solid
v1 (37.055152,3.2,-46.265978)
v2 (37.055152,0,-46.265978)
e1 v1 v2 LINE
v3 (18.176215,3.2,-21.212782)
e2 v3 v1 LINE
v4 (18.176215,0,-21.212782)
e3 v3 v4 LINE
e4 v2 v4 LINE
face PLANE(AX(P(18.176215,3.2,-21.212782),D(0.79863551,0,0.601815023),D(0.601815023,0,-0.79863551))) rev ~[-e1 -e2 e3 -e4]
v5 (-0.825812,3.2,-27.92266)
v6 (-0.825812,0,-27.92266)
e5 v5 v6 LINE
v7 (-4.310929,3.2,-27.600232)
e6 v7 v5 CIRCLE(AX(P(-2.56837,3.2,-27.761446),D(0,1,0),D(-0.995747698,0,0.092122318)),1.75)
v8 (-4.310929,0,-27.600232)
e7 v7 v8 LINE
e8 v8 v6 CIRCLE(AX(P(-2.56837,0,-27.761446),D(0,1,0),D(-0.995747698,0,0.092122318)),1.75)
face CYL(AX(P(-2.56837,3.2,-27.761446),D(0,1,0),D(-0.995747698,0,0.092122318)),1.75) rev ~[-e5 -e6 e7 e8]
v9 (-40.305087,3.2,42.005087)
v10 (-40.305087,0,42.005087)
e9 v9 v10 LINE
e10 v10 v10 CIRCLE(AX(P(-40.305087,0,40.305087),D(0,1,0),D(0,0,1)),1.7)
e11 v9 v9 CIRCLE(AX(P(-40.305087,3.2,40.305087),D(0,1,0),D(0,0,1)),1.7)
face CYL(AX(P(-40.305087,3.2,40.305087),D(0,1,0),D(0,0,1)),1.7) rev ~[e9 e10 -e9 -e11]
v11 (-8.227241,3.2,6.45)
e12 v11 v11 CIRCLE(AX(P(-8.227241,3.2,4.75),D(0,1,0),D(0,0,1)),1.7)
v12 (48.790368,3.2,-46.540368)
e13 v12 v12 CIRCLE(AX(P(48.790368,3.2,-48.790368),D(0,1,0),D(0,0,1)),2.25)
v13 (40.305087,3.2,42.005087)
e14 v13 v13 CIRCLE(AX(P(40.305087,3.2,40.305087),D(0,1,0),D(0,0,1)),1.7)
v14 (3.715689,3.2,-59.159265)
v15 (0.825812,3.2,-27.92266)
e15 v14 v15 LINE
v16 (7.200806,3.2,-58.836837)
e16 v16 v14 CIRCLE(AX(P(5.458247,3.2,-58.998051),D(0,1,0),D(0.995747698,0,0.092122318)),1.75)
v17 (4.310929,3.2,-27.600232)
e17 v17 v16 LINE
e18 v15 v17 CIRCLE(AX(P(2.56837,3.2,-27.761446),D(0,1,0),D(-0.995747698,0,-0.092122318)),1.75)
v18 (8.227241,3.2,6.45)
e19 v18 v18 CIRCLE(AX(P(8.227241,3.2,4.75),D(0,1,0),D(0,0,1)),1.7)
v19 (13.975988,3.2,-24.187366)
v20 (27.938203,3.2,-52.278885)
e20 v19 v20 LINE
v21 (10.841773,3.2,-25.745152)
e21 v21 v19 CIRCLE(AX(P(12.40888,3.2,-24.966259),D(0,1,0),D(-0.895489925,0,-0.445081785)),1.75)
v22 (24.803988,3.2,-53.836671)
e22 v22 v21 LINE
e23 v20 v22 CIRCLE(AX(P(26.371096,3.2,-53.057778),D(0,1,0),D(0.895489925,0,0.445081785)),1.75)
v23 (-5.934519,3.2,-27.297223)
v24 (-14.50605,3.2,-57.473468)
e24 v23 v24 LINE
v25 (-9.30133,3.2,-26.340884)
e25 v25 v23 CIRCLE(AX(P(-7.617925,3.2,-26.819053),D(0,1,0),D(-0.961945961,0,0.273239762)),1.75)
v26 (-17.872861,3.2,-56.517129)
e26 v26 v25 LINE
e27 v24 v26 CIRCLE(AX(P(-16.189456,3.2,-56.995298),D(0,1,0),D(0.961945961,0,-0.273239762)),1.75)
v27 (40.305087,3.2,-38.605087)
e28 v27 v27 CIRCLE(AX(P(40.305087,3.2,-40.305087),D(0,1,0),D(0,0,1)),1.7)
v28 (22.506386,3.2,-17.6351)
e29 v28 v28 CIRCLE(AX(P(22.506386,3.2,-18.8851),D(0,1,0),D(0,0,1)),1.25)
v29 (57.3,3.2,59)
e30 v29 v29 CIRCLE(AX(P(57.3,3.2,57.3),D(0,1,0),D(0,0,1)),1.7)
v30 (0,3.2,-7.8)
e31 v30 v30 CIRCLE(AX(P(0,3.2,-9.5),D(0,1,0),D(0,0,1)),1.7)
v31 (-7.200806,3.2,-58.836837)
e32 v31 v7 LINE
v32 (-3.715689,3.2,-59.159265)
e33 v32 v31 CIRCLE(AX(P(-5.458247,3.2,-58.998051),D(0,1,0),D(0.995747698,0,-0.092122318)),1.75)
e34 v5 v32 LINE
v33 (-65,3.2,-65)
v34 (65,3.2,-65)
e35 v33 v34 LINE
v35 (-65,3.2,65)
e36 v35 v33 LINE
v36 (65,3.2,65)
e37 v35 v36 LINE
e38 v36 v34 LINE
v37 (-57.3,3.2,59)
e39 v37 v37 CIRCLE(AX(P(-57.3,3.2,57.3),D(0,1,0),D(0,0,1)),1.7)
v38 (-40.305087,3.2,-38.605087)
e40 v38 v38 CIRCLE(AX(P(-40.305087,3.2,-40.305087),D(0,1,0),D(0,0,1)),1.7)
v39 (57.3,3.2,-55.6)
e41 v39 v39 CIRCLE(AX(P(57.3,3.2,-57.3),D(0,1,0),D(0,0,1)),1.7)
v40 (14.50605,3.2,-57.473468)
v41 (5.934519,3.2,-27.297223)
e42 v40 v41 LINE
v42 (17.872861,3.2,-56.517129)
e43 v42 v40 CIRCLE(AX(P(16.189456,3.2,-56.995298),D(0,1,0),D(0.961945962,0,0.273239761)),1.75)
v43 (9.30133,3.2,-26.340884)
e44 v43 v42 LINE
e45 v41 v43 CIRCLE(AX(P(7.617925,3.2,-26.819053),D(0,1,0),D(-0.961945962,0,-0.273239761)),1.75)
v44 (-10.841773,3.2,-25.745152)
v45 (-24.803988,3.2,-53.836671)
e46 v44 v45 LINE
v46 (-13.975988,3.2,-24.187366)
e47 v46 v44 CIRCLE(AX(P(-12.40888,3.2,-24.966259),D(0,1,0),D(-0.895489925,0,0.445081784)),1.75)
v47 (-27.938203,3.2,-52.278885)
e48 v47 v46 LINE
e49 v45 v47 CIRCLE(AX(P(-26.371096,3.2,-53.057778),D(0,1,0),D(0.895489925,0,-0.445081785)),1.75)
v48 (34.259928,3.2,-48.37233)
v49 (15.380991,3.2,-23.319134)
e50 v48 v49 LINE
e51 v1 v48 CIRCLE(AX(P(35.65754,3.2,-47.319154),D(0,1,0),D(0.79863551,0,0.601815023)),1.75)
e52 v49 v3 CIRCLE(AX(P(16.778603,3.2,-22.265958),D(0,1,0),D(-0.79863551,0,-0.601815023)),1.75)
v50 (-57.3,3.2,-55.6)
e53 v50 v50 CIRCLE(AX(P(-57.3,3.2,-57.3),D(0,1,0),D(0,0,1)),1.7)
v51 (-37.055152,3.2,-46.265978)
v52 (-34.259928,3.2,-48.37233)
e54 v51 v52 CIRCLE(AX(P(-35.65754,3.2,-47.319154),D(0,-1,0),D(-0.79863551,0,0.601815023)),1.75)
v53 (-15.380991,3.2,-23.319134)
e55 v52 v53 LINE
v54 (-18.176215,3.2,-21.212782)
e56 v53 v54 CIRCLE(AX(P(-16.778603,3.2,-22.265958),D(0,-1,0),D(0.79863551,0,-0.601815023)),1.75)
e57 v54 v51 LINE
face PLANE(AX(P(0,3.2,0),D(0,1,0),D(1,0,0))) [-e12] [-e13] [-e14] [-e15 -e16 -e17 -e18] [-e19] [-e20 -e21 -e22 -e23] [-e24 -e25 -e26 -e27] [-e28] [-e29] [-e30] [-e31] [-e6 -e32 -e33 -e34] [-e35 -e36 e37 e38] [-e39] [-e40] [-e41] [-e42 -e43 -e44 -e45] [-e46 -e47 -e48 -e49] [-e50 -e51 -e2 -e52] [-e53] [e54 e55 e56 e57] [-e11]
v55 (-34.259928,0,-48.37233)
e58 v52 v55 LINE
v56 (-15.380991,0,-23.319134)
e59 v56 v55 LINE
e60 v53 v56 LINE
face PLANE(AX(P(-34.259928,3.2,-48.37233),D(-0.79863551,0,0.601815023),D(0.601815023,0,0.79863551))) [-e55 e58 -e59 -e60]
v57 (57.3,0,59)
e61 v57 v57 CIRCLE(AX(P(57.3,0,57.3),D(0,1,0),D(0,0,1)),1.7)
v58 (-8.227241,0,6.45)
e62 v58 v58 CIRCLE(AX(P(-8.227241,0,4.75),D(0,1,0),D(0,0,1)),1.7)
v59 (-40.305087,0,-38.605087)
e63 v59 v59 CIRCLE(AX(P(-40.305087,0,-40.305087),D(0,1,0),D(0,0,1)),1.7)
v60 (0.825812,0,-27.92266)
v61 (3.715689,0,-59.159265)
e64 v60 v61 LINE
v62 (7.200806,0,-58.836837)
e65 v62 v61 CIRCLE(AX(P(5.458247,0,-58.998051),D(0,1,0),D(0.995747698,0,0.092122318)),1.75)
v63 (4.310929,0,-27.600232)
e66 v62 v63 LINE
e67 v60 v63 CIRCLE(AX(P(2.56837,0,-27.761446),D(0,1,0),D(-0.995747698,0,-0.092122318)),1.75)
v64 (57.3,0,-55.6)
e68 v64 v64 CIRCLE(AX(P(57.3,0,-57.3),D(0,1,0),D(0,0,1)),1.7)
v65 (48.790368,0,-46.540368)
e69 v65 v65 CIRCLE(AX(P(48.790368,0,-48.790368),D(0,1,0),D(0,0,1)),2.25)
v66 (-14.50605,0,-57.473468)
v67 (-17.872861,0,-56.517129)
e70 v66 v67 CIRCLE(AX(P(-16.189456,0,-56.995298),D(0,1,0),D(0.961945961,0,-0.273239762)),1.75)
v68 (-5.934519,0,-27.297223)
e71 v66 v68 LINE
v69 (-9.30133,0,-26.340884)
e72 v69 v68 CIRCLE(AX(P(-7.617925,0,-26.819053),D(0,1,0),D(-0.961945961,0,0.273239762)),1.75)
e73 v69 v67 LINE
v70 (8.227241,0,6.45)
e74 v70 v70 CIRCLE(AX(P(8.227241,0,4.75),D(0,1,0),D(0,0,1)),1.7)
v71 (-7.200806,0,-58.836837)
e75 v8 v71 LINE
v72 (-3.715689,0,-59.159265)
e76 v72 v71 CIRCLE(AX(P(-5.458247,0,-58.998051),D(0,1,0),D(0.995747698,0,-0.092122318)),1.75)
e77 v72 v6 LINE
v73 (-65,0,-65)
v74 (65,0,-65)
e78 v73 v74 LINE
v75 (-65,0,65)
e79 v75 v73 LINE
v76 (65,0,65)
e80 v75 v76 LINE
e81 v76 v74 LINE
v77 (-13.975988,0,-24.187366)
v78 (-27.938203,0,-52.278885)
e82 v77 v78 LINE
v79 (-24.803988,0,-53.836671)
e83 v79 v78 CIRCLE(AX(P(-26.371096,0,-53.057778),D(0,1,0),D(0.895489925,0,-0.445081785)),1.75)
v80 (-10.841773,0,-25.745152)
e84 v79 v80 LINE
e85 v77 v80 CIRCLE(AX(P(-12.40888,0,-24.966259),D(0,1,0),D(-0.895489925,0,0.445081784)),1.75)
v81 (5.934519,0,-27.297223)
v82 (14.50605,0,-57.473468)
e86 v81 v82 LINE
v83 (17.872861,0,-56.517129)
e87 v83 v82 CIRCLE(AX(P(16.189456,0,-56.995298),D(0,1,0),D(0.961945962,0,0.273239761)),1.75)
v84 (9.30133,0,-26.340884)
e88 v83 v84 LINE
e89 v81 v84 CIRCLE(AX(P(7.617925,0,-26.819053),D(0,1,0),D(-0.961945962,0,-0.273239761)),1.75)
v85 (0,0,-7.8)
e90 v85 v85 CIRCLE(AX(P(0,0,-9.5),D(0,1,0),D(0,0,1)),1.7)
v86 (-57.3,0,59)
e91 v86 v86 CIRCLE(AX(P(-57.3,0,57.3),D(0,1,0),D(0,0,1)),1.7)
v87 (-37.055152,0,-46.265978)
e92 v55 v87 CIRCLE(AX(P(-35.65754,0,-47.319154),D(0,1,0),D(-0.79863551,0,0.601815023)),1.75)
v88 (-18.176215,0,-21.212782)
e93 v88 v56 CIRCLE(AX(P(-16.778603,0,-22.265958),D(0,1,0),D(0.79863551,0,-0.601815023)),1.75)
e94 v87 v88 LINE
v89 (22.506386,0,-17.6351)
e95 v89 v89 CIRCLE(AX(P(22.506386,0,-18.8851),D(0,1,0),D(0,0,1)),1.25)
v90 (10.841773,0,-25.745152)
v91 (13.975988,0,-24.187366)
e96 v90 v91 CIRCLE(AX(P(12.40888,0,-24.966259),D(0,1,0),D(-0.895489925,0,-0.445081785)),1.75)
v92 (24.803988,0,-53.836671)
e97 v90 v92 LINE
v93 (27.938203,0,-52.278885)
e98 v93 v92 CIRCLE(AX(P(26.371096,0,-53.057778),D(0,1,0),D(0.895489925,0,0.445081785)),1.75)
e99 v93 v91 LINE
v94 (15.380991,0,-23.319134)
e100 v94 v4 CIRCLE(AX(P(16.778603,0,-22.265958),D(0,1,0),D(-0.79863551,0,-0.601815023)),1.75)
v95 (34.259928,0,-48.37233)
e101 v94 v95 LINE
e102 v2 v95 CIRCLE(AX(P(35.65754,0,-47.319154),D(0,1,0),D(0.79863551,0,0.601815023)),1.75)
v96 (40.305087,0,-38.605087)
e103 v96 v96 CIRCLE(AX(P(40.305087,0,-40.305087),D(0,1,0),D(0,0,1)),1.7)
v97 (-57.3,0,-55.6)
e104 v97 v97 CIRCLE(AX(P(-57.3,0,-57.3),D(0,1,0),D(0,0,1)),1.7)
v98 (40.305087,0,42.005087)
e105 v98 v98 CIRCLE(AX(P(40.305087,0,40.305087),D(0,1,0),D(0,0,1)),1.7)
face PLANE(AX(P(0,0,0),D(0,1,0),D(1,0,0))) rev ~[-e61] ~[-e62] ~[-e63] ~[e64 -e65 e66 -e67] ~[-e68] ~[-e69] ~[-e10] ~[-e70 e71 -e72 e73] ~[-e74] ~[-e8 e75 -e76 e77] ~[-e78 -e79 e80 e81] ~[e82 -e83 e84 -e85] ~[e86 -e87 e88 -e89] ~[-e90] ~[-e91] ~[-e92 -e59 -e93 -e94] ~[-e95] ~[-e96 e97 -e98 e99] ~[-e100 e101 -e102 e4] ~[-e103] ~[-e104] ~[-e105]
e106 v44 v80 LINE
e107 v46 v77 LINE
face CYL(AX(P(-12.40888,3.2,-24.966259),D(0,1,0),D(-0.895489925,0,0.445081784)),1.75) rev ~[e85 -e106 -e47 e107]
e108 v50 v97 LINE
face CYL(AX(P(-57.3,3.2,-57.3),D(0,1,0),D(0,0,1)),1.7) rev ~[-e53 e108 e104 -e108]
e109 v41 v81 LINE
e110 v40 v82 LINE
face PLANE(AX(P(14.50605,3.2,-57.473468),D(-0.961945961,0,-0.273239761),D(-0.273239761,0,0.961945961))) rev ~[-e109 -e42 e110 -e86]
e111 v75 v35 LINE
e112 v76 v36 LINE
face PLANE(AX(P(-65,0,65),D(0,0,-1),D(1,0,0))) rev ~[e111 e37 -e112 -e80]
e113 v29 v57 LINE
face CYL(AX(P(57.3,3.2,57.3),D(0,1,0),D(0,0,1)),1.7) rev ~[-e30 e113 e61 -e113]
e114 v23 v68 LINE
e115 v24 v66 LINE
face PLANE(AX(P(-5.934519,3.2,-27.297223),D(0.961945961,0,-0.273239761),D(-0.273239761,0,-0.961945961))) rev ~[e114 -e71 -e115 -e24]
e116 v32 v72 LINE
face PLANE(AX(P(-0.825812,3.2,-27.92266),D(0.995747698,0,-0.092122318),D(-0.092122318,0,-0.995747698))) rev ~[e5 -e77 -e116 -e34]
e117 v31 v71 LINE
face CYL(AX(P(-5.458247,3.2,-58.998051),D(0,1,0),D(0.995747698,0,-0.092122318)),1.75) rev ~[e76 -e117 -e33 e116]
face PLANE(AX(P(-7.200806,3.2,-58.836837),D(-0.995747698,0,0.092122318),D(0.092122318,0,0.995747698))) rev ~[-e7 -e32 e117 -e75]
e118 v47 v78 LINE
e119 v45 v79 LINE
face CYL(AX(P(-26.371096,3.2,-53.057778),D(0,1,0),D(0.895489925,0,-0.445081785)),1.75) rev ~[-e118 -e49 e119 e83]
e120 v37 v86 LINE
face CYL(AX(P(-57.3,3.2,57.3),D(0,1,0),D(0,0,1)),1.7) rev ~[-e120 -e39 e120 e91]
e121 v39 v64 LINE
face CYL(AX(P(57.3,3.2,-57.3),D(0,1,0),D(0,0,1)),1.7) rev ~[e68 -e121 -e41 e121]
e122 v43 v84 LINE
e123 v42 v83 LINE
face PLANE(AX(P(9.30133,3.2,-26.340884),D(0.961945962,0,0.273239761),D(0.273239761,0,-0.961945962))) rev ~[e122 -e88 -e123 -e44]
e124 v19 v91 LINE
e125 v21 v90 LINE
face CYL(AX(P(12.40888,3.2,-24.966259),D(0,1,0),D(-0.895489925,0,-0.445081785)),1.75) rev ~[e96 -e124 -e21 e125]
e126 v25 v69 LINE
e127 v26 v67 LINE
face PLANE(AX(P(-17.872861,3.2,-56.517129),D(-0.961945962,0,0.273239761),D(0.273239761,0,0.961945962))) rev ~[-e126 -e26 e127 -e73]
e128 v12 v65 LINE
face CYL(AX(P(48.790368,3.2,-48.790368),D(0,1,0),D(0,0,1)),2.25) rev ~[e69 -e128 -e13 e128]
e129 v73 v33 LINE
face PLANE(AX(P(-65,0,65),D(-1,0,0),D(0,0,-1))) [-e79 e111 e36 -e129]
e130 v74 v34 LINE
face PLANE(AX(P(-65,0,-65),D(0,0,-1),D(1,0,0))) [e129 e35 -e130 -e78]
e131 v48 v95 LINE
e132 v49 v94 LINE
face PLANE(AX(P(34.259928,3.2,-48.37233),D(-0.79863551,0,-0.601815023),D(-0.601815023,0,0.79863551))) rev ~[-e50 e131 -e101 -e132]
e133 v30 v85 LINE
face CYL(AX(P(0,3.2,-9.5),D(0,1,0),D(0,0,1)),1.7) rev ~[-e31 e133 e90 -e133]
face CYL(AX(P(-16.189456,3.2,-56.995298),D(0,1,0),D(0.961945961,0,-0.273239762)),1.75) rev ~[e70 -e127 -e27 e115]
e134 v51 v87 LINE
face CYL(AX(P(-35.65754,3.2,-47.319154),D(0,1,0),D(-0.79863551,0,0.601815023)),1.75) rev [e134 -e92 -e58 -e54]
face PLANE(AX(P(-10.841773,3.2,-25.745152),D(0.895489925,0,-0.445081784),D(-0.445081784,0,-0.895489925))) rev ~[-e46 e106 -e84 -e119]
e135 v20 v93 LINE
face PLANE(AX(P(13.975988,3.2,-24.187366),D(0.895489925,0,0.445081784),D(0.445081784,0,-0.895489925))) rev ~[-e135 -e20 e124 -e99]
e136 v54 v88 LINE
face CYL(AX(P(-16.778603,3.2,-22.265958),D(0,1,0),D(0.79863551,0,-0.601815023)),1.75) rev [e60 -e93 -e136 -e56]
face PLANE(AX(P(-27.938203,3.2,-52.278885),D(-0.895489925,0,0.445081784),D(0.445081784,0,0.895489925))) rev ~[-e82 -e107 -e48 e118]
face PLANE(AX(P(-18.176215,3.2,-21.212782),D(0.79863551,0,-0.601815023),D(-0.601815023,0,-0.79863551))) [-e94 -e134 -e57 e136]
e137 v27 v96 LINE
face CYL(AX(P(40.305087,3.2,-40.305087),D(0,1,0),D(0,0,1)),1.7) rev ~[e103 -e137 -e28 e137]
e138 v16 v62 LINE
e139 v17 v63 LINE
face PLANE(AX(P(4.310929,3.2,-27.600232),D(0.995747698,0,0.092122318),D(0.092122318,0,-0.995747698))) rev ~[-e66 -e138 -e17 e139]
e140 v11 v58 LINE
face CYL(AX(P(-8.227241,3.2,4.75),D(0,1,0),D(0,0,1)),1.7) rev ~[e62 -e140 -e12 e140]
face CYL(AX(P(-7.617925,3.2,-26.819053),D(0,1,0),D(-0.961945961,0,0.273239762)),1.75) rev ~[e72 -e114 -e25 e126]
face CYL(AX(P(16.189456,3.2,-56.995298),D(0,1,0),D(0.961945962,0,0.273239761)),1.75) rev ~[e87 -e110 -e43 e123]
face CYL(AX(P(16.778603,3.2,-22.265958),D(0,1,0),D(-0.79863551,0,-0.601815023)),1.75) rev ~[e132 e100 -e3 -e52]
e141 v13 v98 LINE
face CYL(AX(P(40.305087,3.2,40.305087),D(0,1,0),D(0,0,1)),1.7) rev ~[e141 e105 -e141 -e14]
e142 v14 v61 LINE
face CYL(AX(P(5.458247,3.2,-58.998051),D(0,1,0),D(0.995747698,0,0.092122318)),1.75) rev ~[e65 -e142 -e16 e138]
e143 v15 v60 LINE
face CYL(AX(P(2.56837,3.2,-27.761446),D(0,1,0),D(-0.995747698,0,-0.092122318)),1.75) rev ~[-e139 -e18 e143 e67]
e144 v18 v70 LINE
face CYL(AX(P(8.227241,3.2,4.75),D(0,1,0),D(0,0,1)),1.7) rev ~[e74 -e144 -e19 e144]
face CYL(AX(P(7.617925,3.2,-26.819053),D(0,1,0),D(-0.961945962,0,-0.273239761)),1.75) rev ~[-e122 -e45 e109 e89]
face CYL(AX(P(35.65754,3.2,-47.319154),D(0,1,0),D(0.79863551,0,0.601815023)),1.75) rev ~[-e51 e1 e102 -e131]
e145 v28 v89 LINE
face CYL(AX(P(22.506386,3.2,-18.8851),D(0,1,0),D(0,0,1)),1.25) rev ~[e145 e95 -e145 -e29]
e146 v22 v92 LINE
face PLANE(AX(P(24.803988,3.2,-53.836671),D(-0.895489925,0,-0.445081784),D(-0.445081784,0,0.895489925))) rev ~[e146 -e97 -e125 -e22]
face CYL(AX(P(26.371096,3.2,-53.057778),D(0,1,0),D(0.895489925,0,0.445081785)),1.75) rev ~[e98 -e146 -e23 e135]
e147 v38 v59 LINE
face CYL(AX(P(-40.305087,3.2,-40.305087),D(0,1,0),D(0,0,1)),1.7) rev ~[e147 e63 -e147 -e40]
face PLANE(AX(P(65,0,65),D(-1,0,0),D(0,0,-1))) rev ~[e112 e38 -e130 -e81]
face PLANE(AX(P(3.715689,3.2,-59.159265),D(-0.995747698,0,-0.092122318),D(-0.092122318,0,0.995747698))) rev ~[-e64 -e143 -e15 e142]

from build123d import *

# Parameters (mm, degrees)
SKETCH2_W                 = 130
SKETCH2_H                 = 130
BOSS_EXTRUDE1_DEPTH       = 3.2
CUT_EXTRUDE1_REACH        = 93.98
SKETCH4_R                 = 1.7
CUT_EXTRUDE2_REACH        = 93.98
SKETCH6_R                 = 1.7
CUT_EXTRUDE3_REACH        = 93.98
SKETCH8_R                 = 1.7
PRIMARY_WIRE_HOLE_REACH   = 93.98
SKETCH9_R                 = 2.25
SECONDARY_WIRE_HOLE_REACH = 93.98
SKETCH10_R                = 1.25
CUT_EXTRUDE6_REACH        = 93.98


with BuildPart() as part:
    # Sketch2 → Boss-Extrude1 (new body)
    with BuildSketch(Plane(origin=(0, 0, 0), x_dir=(1, 0, 0), z_dir=(0, 1, 0))):
        Rectangle(SKETCH2_W, SKETCH2_H)
    extrude(amount=BOSS_EXTRUDE1_DEPTH)

    # Sketch4 → Cut-Extrude1 (cut, up to next)
    with BuildSketch(Plane(origin=(0, 3.2, 0), x_dir=(1, 0, 0), z_dir=(0, 1, 0)), mode=Mode.PRIVATE) as cut_extrude1_sk1:
        with Locations(Location((-57.3, 57.3, 0), (0, 0, 270))):
            Circle(SKETCH4_R)
    cut_extrude1_tool1 = extrude(cut_extrude1_sk1.sketch, amount=-CUT_EXTRUDE1_REACH, mode=Mode.PRIVATE) & part.part
    # Sketch4 → Cut-Extrude1 (cut, up to next)
    with BuildSketch(Plane(origin=(0, 3.2, 0), x_dir=(1, 0, 0), z_dir=(0, 1, 0)), mode=Mode.PRIVATE) as cut_extrude1_sk2:
        with Locations(Location((57.3, 57.3, 0), (0, 0, 270))):
            Circle(SKETCH4_R)
    cut_extrude1_tool2 = extrude(cut_extrude1_sk2.sketch, amount=-CUT_EXTRUDE1_REACH, mode=Mode.PRIVATE) & part.part
    # Sketch4 → Cut-Extrude1 (cut, up to next)
    with BuildSketch(Plane(origin=(0, 3.2, 0), x_dir=(1, 0, 0), z_dir=(0, 1, 0)), mode=Mode.PRIVATE) as cut_extrude1_sk3:
        with Locations(Location((57.3, -57.3, 0), (0, 0, 270))):
            Circle(SKETCH4_R)
    cut_extrude1_tool3 = extrude(cut_extrude1_sk3.sketch, amount=-CUT_EXTRUDE1_REACH, mode=Mode.PRIVATE) & part.part
    # Sketch4 → Cut-Extrude1 (cut, up to next)
    with BuildSketch(Plane(origin=(0, 3.2, 0), x_dir=(1, 0, 0), z_dir=(0, 1, 0)), mode=Mode.PRIVATE) as cut_extrude1_sk4:
        with Locations(Location((-57.3, -57.3, 0), (0, 0, 270))):
            Circle(SKETCH4_R)
    cut_extrude1_tool4 = extrude(cut_extrude1_sk4.sketch, amount=-CUT_EXTRUDE1_REACH, mode=Mode.PRIVATE) & part.part
    add(cut_extrude1_tool1.solids().sort_by_distance((-57.3, 3.2, -57.3))[0], mode=Mode.SUBTRACT)
    add(cut_extrude1_tool2.solids().sort_by_distance((57.3, 3.2, -57.3))[0], mode=Mode.SUBTRACT)
    add(cut_extrude1_tool3.solids().sort_by_distance((57.3, 3.2, 57.3))[0], mode=Mode.SUBTRACT)
    add(cut_extrude1_tool4.solids().sort_by_distance((-57.3, 3.2, 57.3))[0], mode=Mode.SUBTRACT)

    # Sketch6 → Cut-Extrude2 (cut, up to next)
    with BuildSketch(Plane(origin=(0, 3.2, 0), x_dir=(1, 0, 0), z_dir=(0, 1, 0)), mode=Mode.PRIVATE) as cut_extrude2_sk1:
        with Locations(Location((-40.305086528, 40.305086528, 0), (0, 0, 270))):
            Circle(SKETCH6_R)
    cut_extrude2_tool1 = extrude(cut_extrude2_sk1.sketch, amount=-CUT_EXTRUDE2_REACH, mode=Mode.PRIVATE) & part.part
    # Sketch6 → Cut-Extrude2 (cut, up to next)
    with BuildSketch(Plane(origin=(0, 3.2, 0), x_dir=(1, 0, 0), z_dir=(0, 1, 0)), mode=Mode.PRIVATE) as cut_extrude2_sk2:
        with Locations(Location((40.305086528, 40.305086528, 0), (0, 0, 270))):
            Circle(SKETCH6_R)
    cut_extrude2_tool2 = extrude(cut_extrude2_sk2.sketch, amount=-CUT_EXTRUDE2_REACH, mode=Mode.PRIVATE) & part.part
    # Sketch6 → Cut-Extrude2 (cut, up to next)
    with BuildSketch(Plane(origin=(0, 3.2, 0), x_dir=(1, 0, 0), z_dir=(0, 1, 0)), mode=Mode.PRIVATE) as cut_extrude2_sk3:
        with Locations(Location((40.305086528, -40.305086528, 0), (0, 0, 270))):
            Circle(SKETCH6_R)
    cut_extrude2_tool3 = extrude(cut_extrude2_sk3.sketch, amount=-CUT_EXTRUDE2_REACH, mode=Mode.PRIVATE) & part.part
    # Sketch6 → Cut-Extrude2 (cut, up to next)
    with BuildSketch(Plane(origin=(0, 3.2, 0), x_dir=(1, 0, 0), z_dir=(0, 1, 0)), mode=Mode.PRIVATE) as cut_extrude2_sk4:
        with Locations(Location((-40.305086528, -40.305086528, 0), (0, 0, 270))):
            Circle(SKETCH6_R)
    cut_extrude2_tool4 = extrude(cut_extrude2_sk4.sketch, amount=-CUT_EXTRUDE2_REACH, mode=Mode.PRIVATE) & part.part
    add(cut_extrude2_tool1.solids().sort_by_distance((-40.305087, 3.2, -40.305087))[0], mode=Mode.SUBTRACT)
    add(cut_extrude2_tool2.solids().sort_by_distance((40.305087, 3.2, -40.305087))[0], mode=Mode.SUBTRACT)
    add(cut_extrude2_tool3.solids().sort_by_distance((40.305087, 3.2, 40.305087))[0], mode=Mode.SUBTRACT)
    add(cut_extrude2_tool4.solids().sort_by_distance((-40.305087, 3.2, 40.305087))[0], mode=Mode.SUBTRACT)

    # Sketch8 → Cut-Extrude3 (cut, up to next)
    with BuildSketch(Plane(origin=(0, 3.2, 0), x_dir=(1, 0, 0), z_dir=(0, 1, 0)), mode=Mode.PRIVATE) as cut_extrude3_sk1:
        with Locations(Location((0, 9.5, 0), (0, 0, 270))):
            Circle(SKETCH8_R)
    cut_extrude3_tool1 = extrude(cut_extrude3_sk1.sketch, amount=-CUT_EXTRUDE3_REACH, mode=Mode.PRIVATE) & part.part
    # Sketch8 → Cut-Extrude3 (cut, up to next)
    with BuildSketch(Plane(origin=(0, 3.2, 0), x_dir=(1, 0, 0), z_dir=(0, 1, 0)), mode=Mode.PRIVATE) as cut_extrude3_sk2:
        with Locations(Location((8.227241336, -4.75, 0), (0, 0, 270))):
            Circle(SKETCH8_R)
    cut_extrude3_tool2 = extrude(cut_extrude3_sk2.sketch, amount=-CUT_EXTRUDE3_REACH, mode=Mode.PRIVATE) & part.part
    # Sketch8 → Cut-Extrude3 (cut, up to next)
    with BuildSketch(Plane(origin=(0, 3.2, 0), x_dir=(1, 0, 0), z_dir=(0, 1, 0)), mode=Mode.PRIVATE) as cut_extrude3_sk3:
        with Locations(Location((-8.227241336, -4.75, 0), (0, 0, 270))):
            Circle(SKETCH8_R)
    cut_extrude3_tool3 = extrude(cut_extrude3_sk3.sketch, amount=-CUT_EXTRUDE3_REACH, mode=Mode.PRIVATE) & part.part
    add(cut_extrude3_tool1.solids().sort_by_distance((0, 3.2, -9.5))[0], mode=Mode.SUBTRACT)
    add(cut_extrude3_tool2.solids().sort_by_distance((8.227241, 3.2, 4.75))[0], mode=Mode.SUBTRACT)
    add(cut_extrude3_tool3.solids().sort_by_distance((-8.227241, 3.2, 4.75))[0], mode=Mode.SUBTRACT)

    # Sketch9 → Primary wire hole (cut, up to next)
    with BuildSketch(Plane(origin=(0, 3.2, 0), x_dir=(1, 0, 0), z_dir=(0, 1, 0)), mode=Mode.PRIVATE) as primary_wire_hole_sk1:
        with Locations(Location((48.790367902, 48.790367902, 0), (0, 0, 270))):
            Circle(SKETCH9_R)
    primary_wire_hole_tool1 = extrude(primary_wire_hole_sk1.sketch, amount=-PRIMARY_WIRE_HOLE_REACH, mode=Mode.PRIVATE) & part.part
    add(primary_wire_hole_tool1.solids().sort_by_distance((48.790368, 3.2, -48.790368))[0], mode=Mode.SUBTRACT)

    # Sketch10 → Secondary wire hole (cut, up to next)
    with BuildSketch(Plane(origin=(0, 3.2, 0), x_dir=(1, 0, 0), z_dir=(0, 1, 0)), mode=Mode.PRIVATE) as secondary_wire_hole_sk1:
        with Locations(Location((22.506385739, 18.885099973, 0), (0, 0, 270))):
            Circle(SKETCH10_R)
    secondary_wire_hole_tool1 = extrude(secondary_wire_hole_sk1.sketch, amount=-SECONDARY_WIRE_HOLE_REACH, mode=Mode.PRIVATE) & part.part
    add(secondary_wire_hole_tool1.solids().sort_by_distance((22.506386, 3.2, -18.8851))[0], mode=Mode.SUBTRACT)

    # Sketch11 → Cut-Extrude6 (cut, up to next)
    with BuildSketch(Plane(origin=(0, 3.2, 0), x_dir=(1, 0, 0), z_dir=(0, 1, 0)), mode=Mode.PRIVATE) as cut_extrude6_sk1:
        with BuildLine():
            Line((-34.259927979, 48.372330261), (-15.380990703, 23.319134311))
            ThreePointArc((-15.380990703, 23.319134311), (-15.725426555, 20.868345878), (-18.176214988, 21.21278173))
            Line((-18.176214988, 21.21278173), (-37.055152264, 46.26597768))
            ThreePointArc((-37.055152264, 46.26597768), (-36.710716412, 48.716766113), (-34.259927979, 48.372330261))
        make_face()
    cut_extrude6_tool1 = extrude(cut_extrude6_sk1.sketch, amount=-CUT_EXTRUDE6_REACH, mode=Mode.PRIVATE) & part.part
    # Sketch11 → Cut-Extrude6 (cut, up to next)
    with BuildSketch(Plane(origin=(0, 3.2, 0), x_dir=(1, 0, 0), z_dir=(0, 1, 0)), mode=Mode.PRIVATE) as cut_extrude6_sk2:
        with BuildLine():
            Line((-27.938203096, 52.278884913), (-13.975987518, 24.187365977))
            ThreePointArc((-13.975987518, 24.187365977), (-11.629987027, 23.399151731), (-10.841772782, 25.745152222))
            Line((-10.841772782, 25.745152222), (-24.80398836, 53.836671159))
            ThreePointArc((-24.80398836, 53.836671159), (-27.149988851, 54.624885404), (-27.938203096, 52.278884913))
        make_face()
    cut_extrude6_tool2 = extrude(cut_extrude6_sk2.sketch, amount=-CUT_EXTRUDE6_REACH, mode=Mode.PRIVATE) & part.part
    # Sketch11 → Cut-Extrude6 (cut, up to next)
    with BuildSketch(Plane(origin=(0, 3.2, 0), x_dir=(1, 0, 0), z_dir=(0, 1, 0)), mode=Mode.PRIVATE) as cut_extrude6_sk3:
        with BuildLine():
            Line((-17.87286129, 56.517128637), (-9.301329978, 26.340883824))
            ThreePointArc((-9.301329978, 26.340883824), (-7.139754963, 25.135647974), (-5.934519112, 27.297222989))
            Line((-5.934519112, 27.297222989), (-14.506050425, 57.473467801))
            ThreePointArc((-14.506050425, 57.473467801), (-16.667625439, 58.678703651), (-17.87286129, 56.517128637))
        make_face()
    cut_extrude6_tool3 = extrude(cut_extrude6_sk3.sketch, amount=-CUT_EXTRUDE6_REACH, mode=Mode.PRIVATE) & part.part
    # Sketch11 → Cut-Extrude6 (cut, up to next)
    with BuildSketch(Plane(origin=(0, 3.2, 0), x_dir=(1, 0, 0), z_dir=(0, 1, 0)), mode=Mode.PRIVATE) as cut_extrude6_sk4:
        with BuildLine():
            Line((-7.200805802, 58.836837065), (-4.310928692, 27.600231771))
            ThreePointArc((-4.310928692, 27.600231771), (-2.407156164, 26.018887355), (-0.825811748, 27.922659883))
            Line((-0.825811748, 27.922659883), (-3.715688858, 59.159265177))
            ThreePointArc((-3.715688858, 59.159265177), (-5.619461386, 60.740609593), (-7.200805802, 58.836837065))
        make_face()
    cut_extrude6_tool4 = extrude(cut_extrude6_sk4.sketch, amount=-CUT_EXTRUDE6_REACH, mode=Mode.PRIVATE) & part.part
    # Sketch11 → Cut-Extrude6 (cut, up to next)
    with BuildSketch(Plane(origin=(0, 3.2, 0), x_dir=(1, 0, 0), z_dir=(0, 1, 0)), mode=Mode.PRIVATE) as cut_extrude6_sk5:
        with BuildLine():
            Line((3.715688858, 59.159265177), (0.825811748, 27.922659883))
            ThreePointArc((0.825811748, 27.922659883), (2.407156164, 26.018887355), (4.310928692, 27.600231771))
            Line((4.310928692, 27.600231771), (7.200805802, 58.836837065))
            ThreePointArc((7.200805802, 58.836837065), (5.619461386, 60.740609593), (3.715688858, 59.159265177))
        make_face()
    cut_extrude6_tool5 = extrude(cut_extrude6_sk5.sketch, amount=-CUT_EXTRUDE6_REACH, mode=Mode.PRIVATE) & part.part
    # Sketch11 → Cut-Extrude6 (cut, up to next)
    with BuildSketch(Plane(origin=(0, 3.2, 0), x_dir=(1, 0, 0), z_dir=(0, 1, 0)), mode=Mode.PRIVATE) as cut_extrude6_sk6:
        with BuildLine():
            Line((14.506050425, 57.473467801), (5.934519112, 27.297222989))
            ThreePointArc((5.934519112, 27.297222989), (7.139754963, 25.135647974), (9.301329978, 26.340883824))
            Line((9.301329978, 26.340883824), (17.87286129, 56.517128637))
            ThreePointArc((17.87286129, 56.517128637), (16.667625439, 58.678703651), (14.506050425, 57.473467801))
        make_face()
    cut_extrude6_tool6 = extrude(cut_extrude6_sk6.sketch, amount=-CUT_EXTRUDE6_REACH, mode=Mode.PRIVATE) & part.part
    # Sketch11 → Cut-Extrude6 (cut, up to next)
    with BuildSketch(Plane(origin=(0, 3.2, 0), x_dir=(1, 0, 0), z_dir=(0, 1, 0)), mode=Mode.PRIVATE) as cut_extrude6_sk7:
        with BuildLine():
            Line((24.80398836, 53.836671159), (10.841772782, 25.745152222))
            ThreePointArc((10.841772782, 25.745152222), (11.629987027, 23.399151731), (13.975987518, 24.187365977))
            Line((13.975987518, 24.187365977), (27.938203096, 52.278884913))
            ThreePointArc((27.938203096, 52.278884913), (27.149988851, 54.624885404), (24.80398836, 53.836671159))
        make_face()
    cut_extrude6_tool7 = extrude(cut_extrude6_sk7.sketch, amount=-CUT_EXTRUDE6_REACH, mode=Mode.PRIVATE) & part.part
    # Sketch11 → Cut-Extrude6 (cut, up to next)
    with BuildSketch(Plane(origin=(0, 3.2, 0), x_dir=(1, 0, 0), z_dir=(0, 1, 0)), mode=Mode.PRIVATE) as cut_extrude6_sk8:
        with BuildLine():
            Line((34.259927979, 48.372330261), (15.380990703, 23.319134311))
            ThreePointArc((15.380990703, 23.319134311), (15.725426555, 20.868345878), (18.176214988, 21.21278173))
            Line((18.176214988, 21.21278173), (37.055152264, 46.26597768))
            ThreePointArc((37.055152264, 46.26597768), (36.710716412, 48.716766113), (34.259927979, 48.372330261))
        make_face()
    cut_extrude6_tool8 = extrude(cut_extrude6_sk8.sketch, amount=-CUT_EXTRUDE6_REACH, mode=Mode.PRIVATE) & part.part
    add(cut_extrude6_tool1.solids().sort_by_distance((-26.218071, 3.2, -34.792556))[0], mode=Mode.SUBTRACT)
    add(cut_extrude6_tool2.solids().sort_by_distance((-19.389988, 3.2, -39.012019))[0], mode=Mode.SUBTRACT)
    add(cut_extrude6_tool3.solids().sort_by_distance((-11.90369, 3.2, -41.907176))[0], mode=Mode.SUBTRACT)
    add(cut_extrude6_tool4.solids().sort_by_distance((-4.013309, 3.2, -43.379748))[0], mode=Mode.SUBTRACT)
    add(cut_extrude6_tool5.solids().sort_by_distance((4.013309, 3.2, -43.379748))[0], mode=Mode.SUBTRACT)
    add(cut_extrude6_tool6.solids().sort_by_distance((11.90369, 3.2, -41.907176))[0], mode=Mode.SUBTRACT)
    add(cut_extrude6_tool7.solids().sort_by_distance((19.389988, 3.2, -39.012019))[0], mode=Mode.SUBTRACT)
    add(cut_extrude6_tool8.solids().sort_by_distance((26.218071, 3.2, -34.792556))[0], mode=Mode.SUBTRACT)


solid = part.part
